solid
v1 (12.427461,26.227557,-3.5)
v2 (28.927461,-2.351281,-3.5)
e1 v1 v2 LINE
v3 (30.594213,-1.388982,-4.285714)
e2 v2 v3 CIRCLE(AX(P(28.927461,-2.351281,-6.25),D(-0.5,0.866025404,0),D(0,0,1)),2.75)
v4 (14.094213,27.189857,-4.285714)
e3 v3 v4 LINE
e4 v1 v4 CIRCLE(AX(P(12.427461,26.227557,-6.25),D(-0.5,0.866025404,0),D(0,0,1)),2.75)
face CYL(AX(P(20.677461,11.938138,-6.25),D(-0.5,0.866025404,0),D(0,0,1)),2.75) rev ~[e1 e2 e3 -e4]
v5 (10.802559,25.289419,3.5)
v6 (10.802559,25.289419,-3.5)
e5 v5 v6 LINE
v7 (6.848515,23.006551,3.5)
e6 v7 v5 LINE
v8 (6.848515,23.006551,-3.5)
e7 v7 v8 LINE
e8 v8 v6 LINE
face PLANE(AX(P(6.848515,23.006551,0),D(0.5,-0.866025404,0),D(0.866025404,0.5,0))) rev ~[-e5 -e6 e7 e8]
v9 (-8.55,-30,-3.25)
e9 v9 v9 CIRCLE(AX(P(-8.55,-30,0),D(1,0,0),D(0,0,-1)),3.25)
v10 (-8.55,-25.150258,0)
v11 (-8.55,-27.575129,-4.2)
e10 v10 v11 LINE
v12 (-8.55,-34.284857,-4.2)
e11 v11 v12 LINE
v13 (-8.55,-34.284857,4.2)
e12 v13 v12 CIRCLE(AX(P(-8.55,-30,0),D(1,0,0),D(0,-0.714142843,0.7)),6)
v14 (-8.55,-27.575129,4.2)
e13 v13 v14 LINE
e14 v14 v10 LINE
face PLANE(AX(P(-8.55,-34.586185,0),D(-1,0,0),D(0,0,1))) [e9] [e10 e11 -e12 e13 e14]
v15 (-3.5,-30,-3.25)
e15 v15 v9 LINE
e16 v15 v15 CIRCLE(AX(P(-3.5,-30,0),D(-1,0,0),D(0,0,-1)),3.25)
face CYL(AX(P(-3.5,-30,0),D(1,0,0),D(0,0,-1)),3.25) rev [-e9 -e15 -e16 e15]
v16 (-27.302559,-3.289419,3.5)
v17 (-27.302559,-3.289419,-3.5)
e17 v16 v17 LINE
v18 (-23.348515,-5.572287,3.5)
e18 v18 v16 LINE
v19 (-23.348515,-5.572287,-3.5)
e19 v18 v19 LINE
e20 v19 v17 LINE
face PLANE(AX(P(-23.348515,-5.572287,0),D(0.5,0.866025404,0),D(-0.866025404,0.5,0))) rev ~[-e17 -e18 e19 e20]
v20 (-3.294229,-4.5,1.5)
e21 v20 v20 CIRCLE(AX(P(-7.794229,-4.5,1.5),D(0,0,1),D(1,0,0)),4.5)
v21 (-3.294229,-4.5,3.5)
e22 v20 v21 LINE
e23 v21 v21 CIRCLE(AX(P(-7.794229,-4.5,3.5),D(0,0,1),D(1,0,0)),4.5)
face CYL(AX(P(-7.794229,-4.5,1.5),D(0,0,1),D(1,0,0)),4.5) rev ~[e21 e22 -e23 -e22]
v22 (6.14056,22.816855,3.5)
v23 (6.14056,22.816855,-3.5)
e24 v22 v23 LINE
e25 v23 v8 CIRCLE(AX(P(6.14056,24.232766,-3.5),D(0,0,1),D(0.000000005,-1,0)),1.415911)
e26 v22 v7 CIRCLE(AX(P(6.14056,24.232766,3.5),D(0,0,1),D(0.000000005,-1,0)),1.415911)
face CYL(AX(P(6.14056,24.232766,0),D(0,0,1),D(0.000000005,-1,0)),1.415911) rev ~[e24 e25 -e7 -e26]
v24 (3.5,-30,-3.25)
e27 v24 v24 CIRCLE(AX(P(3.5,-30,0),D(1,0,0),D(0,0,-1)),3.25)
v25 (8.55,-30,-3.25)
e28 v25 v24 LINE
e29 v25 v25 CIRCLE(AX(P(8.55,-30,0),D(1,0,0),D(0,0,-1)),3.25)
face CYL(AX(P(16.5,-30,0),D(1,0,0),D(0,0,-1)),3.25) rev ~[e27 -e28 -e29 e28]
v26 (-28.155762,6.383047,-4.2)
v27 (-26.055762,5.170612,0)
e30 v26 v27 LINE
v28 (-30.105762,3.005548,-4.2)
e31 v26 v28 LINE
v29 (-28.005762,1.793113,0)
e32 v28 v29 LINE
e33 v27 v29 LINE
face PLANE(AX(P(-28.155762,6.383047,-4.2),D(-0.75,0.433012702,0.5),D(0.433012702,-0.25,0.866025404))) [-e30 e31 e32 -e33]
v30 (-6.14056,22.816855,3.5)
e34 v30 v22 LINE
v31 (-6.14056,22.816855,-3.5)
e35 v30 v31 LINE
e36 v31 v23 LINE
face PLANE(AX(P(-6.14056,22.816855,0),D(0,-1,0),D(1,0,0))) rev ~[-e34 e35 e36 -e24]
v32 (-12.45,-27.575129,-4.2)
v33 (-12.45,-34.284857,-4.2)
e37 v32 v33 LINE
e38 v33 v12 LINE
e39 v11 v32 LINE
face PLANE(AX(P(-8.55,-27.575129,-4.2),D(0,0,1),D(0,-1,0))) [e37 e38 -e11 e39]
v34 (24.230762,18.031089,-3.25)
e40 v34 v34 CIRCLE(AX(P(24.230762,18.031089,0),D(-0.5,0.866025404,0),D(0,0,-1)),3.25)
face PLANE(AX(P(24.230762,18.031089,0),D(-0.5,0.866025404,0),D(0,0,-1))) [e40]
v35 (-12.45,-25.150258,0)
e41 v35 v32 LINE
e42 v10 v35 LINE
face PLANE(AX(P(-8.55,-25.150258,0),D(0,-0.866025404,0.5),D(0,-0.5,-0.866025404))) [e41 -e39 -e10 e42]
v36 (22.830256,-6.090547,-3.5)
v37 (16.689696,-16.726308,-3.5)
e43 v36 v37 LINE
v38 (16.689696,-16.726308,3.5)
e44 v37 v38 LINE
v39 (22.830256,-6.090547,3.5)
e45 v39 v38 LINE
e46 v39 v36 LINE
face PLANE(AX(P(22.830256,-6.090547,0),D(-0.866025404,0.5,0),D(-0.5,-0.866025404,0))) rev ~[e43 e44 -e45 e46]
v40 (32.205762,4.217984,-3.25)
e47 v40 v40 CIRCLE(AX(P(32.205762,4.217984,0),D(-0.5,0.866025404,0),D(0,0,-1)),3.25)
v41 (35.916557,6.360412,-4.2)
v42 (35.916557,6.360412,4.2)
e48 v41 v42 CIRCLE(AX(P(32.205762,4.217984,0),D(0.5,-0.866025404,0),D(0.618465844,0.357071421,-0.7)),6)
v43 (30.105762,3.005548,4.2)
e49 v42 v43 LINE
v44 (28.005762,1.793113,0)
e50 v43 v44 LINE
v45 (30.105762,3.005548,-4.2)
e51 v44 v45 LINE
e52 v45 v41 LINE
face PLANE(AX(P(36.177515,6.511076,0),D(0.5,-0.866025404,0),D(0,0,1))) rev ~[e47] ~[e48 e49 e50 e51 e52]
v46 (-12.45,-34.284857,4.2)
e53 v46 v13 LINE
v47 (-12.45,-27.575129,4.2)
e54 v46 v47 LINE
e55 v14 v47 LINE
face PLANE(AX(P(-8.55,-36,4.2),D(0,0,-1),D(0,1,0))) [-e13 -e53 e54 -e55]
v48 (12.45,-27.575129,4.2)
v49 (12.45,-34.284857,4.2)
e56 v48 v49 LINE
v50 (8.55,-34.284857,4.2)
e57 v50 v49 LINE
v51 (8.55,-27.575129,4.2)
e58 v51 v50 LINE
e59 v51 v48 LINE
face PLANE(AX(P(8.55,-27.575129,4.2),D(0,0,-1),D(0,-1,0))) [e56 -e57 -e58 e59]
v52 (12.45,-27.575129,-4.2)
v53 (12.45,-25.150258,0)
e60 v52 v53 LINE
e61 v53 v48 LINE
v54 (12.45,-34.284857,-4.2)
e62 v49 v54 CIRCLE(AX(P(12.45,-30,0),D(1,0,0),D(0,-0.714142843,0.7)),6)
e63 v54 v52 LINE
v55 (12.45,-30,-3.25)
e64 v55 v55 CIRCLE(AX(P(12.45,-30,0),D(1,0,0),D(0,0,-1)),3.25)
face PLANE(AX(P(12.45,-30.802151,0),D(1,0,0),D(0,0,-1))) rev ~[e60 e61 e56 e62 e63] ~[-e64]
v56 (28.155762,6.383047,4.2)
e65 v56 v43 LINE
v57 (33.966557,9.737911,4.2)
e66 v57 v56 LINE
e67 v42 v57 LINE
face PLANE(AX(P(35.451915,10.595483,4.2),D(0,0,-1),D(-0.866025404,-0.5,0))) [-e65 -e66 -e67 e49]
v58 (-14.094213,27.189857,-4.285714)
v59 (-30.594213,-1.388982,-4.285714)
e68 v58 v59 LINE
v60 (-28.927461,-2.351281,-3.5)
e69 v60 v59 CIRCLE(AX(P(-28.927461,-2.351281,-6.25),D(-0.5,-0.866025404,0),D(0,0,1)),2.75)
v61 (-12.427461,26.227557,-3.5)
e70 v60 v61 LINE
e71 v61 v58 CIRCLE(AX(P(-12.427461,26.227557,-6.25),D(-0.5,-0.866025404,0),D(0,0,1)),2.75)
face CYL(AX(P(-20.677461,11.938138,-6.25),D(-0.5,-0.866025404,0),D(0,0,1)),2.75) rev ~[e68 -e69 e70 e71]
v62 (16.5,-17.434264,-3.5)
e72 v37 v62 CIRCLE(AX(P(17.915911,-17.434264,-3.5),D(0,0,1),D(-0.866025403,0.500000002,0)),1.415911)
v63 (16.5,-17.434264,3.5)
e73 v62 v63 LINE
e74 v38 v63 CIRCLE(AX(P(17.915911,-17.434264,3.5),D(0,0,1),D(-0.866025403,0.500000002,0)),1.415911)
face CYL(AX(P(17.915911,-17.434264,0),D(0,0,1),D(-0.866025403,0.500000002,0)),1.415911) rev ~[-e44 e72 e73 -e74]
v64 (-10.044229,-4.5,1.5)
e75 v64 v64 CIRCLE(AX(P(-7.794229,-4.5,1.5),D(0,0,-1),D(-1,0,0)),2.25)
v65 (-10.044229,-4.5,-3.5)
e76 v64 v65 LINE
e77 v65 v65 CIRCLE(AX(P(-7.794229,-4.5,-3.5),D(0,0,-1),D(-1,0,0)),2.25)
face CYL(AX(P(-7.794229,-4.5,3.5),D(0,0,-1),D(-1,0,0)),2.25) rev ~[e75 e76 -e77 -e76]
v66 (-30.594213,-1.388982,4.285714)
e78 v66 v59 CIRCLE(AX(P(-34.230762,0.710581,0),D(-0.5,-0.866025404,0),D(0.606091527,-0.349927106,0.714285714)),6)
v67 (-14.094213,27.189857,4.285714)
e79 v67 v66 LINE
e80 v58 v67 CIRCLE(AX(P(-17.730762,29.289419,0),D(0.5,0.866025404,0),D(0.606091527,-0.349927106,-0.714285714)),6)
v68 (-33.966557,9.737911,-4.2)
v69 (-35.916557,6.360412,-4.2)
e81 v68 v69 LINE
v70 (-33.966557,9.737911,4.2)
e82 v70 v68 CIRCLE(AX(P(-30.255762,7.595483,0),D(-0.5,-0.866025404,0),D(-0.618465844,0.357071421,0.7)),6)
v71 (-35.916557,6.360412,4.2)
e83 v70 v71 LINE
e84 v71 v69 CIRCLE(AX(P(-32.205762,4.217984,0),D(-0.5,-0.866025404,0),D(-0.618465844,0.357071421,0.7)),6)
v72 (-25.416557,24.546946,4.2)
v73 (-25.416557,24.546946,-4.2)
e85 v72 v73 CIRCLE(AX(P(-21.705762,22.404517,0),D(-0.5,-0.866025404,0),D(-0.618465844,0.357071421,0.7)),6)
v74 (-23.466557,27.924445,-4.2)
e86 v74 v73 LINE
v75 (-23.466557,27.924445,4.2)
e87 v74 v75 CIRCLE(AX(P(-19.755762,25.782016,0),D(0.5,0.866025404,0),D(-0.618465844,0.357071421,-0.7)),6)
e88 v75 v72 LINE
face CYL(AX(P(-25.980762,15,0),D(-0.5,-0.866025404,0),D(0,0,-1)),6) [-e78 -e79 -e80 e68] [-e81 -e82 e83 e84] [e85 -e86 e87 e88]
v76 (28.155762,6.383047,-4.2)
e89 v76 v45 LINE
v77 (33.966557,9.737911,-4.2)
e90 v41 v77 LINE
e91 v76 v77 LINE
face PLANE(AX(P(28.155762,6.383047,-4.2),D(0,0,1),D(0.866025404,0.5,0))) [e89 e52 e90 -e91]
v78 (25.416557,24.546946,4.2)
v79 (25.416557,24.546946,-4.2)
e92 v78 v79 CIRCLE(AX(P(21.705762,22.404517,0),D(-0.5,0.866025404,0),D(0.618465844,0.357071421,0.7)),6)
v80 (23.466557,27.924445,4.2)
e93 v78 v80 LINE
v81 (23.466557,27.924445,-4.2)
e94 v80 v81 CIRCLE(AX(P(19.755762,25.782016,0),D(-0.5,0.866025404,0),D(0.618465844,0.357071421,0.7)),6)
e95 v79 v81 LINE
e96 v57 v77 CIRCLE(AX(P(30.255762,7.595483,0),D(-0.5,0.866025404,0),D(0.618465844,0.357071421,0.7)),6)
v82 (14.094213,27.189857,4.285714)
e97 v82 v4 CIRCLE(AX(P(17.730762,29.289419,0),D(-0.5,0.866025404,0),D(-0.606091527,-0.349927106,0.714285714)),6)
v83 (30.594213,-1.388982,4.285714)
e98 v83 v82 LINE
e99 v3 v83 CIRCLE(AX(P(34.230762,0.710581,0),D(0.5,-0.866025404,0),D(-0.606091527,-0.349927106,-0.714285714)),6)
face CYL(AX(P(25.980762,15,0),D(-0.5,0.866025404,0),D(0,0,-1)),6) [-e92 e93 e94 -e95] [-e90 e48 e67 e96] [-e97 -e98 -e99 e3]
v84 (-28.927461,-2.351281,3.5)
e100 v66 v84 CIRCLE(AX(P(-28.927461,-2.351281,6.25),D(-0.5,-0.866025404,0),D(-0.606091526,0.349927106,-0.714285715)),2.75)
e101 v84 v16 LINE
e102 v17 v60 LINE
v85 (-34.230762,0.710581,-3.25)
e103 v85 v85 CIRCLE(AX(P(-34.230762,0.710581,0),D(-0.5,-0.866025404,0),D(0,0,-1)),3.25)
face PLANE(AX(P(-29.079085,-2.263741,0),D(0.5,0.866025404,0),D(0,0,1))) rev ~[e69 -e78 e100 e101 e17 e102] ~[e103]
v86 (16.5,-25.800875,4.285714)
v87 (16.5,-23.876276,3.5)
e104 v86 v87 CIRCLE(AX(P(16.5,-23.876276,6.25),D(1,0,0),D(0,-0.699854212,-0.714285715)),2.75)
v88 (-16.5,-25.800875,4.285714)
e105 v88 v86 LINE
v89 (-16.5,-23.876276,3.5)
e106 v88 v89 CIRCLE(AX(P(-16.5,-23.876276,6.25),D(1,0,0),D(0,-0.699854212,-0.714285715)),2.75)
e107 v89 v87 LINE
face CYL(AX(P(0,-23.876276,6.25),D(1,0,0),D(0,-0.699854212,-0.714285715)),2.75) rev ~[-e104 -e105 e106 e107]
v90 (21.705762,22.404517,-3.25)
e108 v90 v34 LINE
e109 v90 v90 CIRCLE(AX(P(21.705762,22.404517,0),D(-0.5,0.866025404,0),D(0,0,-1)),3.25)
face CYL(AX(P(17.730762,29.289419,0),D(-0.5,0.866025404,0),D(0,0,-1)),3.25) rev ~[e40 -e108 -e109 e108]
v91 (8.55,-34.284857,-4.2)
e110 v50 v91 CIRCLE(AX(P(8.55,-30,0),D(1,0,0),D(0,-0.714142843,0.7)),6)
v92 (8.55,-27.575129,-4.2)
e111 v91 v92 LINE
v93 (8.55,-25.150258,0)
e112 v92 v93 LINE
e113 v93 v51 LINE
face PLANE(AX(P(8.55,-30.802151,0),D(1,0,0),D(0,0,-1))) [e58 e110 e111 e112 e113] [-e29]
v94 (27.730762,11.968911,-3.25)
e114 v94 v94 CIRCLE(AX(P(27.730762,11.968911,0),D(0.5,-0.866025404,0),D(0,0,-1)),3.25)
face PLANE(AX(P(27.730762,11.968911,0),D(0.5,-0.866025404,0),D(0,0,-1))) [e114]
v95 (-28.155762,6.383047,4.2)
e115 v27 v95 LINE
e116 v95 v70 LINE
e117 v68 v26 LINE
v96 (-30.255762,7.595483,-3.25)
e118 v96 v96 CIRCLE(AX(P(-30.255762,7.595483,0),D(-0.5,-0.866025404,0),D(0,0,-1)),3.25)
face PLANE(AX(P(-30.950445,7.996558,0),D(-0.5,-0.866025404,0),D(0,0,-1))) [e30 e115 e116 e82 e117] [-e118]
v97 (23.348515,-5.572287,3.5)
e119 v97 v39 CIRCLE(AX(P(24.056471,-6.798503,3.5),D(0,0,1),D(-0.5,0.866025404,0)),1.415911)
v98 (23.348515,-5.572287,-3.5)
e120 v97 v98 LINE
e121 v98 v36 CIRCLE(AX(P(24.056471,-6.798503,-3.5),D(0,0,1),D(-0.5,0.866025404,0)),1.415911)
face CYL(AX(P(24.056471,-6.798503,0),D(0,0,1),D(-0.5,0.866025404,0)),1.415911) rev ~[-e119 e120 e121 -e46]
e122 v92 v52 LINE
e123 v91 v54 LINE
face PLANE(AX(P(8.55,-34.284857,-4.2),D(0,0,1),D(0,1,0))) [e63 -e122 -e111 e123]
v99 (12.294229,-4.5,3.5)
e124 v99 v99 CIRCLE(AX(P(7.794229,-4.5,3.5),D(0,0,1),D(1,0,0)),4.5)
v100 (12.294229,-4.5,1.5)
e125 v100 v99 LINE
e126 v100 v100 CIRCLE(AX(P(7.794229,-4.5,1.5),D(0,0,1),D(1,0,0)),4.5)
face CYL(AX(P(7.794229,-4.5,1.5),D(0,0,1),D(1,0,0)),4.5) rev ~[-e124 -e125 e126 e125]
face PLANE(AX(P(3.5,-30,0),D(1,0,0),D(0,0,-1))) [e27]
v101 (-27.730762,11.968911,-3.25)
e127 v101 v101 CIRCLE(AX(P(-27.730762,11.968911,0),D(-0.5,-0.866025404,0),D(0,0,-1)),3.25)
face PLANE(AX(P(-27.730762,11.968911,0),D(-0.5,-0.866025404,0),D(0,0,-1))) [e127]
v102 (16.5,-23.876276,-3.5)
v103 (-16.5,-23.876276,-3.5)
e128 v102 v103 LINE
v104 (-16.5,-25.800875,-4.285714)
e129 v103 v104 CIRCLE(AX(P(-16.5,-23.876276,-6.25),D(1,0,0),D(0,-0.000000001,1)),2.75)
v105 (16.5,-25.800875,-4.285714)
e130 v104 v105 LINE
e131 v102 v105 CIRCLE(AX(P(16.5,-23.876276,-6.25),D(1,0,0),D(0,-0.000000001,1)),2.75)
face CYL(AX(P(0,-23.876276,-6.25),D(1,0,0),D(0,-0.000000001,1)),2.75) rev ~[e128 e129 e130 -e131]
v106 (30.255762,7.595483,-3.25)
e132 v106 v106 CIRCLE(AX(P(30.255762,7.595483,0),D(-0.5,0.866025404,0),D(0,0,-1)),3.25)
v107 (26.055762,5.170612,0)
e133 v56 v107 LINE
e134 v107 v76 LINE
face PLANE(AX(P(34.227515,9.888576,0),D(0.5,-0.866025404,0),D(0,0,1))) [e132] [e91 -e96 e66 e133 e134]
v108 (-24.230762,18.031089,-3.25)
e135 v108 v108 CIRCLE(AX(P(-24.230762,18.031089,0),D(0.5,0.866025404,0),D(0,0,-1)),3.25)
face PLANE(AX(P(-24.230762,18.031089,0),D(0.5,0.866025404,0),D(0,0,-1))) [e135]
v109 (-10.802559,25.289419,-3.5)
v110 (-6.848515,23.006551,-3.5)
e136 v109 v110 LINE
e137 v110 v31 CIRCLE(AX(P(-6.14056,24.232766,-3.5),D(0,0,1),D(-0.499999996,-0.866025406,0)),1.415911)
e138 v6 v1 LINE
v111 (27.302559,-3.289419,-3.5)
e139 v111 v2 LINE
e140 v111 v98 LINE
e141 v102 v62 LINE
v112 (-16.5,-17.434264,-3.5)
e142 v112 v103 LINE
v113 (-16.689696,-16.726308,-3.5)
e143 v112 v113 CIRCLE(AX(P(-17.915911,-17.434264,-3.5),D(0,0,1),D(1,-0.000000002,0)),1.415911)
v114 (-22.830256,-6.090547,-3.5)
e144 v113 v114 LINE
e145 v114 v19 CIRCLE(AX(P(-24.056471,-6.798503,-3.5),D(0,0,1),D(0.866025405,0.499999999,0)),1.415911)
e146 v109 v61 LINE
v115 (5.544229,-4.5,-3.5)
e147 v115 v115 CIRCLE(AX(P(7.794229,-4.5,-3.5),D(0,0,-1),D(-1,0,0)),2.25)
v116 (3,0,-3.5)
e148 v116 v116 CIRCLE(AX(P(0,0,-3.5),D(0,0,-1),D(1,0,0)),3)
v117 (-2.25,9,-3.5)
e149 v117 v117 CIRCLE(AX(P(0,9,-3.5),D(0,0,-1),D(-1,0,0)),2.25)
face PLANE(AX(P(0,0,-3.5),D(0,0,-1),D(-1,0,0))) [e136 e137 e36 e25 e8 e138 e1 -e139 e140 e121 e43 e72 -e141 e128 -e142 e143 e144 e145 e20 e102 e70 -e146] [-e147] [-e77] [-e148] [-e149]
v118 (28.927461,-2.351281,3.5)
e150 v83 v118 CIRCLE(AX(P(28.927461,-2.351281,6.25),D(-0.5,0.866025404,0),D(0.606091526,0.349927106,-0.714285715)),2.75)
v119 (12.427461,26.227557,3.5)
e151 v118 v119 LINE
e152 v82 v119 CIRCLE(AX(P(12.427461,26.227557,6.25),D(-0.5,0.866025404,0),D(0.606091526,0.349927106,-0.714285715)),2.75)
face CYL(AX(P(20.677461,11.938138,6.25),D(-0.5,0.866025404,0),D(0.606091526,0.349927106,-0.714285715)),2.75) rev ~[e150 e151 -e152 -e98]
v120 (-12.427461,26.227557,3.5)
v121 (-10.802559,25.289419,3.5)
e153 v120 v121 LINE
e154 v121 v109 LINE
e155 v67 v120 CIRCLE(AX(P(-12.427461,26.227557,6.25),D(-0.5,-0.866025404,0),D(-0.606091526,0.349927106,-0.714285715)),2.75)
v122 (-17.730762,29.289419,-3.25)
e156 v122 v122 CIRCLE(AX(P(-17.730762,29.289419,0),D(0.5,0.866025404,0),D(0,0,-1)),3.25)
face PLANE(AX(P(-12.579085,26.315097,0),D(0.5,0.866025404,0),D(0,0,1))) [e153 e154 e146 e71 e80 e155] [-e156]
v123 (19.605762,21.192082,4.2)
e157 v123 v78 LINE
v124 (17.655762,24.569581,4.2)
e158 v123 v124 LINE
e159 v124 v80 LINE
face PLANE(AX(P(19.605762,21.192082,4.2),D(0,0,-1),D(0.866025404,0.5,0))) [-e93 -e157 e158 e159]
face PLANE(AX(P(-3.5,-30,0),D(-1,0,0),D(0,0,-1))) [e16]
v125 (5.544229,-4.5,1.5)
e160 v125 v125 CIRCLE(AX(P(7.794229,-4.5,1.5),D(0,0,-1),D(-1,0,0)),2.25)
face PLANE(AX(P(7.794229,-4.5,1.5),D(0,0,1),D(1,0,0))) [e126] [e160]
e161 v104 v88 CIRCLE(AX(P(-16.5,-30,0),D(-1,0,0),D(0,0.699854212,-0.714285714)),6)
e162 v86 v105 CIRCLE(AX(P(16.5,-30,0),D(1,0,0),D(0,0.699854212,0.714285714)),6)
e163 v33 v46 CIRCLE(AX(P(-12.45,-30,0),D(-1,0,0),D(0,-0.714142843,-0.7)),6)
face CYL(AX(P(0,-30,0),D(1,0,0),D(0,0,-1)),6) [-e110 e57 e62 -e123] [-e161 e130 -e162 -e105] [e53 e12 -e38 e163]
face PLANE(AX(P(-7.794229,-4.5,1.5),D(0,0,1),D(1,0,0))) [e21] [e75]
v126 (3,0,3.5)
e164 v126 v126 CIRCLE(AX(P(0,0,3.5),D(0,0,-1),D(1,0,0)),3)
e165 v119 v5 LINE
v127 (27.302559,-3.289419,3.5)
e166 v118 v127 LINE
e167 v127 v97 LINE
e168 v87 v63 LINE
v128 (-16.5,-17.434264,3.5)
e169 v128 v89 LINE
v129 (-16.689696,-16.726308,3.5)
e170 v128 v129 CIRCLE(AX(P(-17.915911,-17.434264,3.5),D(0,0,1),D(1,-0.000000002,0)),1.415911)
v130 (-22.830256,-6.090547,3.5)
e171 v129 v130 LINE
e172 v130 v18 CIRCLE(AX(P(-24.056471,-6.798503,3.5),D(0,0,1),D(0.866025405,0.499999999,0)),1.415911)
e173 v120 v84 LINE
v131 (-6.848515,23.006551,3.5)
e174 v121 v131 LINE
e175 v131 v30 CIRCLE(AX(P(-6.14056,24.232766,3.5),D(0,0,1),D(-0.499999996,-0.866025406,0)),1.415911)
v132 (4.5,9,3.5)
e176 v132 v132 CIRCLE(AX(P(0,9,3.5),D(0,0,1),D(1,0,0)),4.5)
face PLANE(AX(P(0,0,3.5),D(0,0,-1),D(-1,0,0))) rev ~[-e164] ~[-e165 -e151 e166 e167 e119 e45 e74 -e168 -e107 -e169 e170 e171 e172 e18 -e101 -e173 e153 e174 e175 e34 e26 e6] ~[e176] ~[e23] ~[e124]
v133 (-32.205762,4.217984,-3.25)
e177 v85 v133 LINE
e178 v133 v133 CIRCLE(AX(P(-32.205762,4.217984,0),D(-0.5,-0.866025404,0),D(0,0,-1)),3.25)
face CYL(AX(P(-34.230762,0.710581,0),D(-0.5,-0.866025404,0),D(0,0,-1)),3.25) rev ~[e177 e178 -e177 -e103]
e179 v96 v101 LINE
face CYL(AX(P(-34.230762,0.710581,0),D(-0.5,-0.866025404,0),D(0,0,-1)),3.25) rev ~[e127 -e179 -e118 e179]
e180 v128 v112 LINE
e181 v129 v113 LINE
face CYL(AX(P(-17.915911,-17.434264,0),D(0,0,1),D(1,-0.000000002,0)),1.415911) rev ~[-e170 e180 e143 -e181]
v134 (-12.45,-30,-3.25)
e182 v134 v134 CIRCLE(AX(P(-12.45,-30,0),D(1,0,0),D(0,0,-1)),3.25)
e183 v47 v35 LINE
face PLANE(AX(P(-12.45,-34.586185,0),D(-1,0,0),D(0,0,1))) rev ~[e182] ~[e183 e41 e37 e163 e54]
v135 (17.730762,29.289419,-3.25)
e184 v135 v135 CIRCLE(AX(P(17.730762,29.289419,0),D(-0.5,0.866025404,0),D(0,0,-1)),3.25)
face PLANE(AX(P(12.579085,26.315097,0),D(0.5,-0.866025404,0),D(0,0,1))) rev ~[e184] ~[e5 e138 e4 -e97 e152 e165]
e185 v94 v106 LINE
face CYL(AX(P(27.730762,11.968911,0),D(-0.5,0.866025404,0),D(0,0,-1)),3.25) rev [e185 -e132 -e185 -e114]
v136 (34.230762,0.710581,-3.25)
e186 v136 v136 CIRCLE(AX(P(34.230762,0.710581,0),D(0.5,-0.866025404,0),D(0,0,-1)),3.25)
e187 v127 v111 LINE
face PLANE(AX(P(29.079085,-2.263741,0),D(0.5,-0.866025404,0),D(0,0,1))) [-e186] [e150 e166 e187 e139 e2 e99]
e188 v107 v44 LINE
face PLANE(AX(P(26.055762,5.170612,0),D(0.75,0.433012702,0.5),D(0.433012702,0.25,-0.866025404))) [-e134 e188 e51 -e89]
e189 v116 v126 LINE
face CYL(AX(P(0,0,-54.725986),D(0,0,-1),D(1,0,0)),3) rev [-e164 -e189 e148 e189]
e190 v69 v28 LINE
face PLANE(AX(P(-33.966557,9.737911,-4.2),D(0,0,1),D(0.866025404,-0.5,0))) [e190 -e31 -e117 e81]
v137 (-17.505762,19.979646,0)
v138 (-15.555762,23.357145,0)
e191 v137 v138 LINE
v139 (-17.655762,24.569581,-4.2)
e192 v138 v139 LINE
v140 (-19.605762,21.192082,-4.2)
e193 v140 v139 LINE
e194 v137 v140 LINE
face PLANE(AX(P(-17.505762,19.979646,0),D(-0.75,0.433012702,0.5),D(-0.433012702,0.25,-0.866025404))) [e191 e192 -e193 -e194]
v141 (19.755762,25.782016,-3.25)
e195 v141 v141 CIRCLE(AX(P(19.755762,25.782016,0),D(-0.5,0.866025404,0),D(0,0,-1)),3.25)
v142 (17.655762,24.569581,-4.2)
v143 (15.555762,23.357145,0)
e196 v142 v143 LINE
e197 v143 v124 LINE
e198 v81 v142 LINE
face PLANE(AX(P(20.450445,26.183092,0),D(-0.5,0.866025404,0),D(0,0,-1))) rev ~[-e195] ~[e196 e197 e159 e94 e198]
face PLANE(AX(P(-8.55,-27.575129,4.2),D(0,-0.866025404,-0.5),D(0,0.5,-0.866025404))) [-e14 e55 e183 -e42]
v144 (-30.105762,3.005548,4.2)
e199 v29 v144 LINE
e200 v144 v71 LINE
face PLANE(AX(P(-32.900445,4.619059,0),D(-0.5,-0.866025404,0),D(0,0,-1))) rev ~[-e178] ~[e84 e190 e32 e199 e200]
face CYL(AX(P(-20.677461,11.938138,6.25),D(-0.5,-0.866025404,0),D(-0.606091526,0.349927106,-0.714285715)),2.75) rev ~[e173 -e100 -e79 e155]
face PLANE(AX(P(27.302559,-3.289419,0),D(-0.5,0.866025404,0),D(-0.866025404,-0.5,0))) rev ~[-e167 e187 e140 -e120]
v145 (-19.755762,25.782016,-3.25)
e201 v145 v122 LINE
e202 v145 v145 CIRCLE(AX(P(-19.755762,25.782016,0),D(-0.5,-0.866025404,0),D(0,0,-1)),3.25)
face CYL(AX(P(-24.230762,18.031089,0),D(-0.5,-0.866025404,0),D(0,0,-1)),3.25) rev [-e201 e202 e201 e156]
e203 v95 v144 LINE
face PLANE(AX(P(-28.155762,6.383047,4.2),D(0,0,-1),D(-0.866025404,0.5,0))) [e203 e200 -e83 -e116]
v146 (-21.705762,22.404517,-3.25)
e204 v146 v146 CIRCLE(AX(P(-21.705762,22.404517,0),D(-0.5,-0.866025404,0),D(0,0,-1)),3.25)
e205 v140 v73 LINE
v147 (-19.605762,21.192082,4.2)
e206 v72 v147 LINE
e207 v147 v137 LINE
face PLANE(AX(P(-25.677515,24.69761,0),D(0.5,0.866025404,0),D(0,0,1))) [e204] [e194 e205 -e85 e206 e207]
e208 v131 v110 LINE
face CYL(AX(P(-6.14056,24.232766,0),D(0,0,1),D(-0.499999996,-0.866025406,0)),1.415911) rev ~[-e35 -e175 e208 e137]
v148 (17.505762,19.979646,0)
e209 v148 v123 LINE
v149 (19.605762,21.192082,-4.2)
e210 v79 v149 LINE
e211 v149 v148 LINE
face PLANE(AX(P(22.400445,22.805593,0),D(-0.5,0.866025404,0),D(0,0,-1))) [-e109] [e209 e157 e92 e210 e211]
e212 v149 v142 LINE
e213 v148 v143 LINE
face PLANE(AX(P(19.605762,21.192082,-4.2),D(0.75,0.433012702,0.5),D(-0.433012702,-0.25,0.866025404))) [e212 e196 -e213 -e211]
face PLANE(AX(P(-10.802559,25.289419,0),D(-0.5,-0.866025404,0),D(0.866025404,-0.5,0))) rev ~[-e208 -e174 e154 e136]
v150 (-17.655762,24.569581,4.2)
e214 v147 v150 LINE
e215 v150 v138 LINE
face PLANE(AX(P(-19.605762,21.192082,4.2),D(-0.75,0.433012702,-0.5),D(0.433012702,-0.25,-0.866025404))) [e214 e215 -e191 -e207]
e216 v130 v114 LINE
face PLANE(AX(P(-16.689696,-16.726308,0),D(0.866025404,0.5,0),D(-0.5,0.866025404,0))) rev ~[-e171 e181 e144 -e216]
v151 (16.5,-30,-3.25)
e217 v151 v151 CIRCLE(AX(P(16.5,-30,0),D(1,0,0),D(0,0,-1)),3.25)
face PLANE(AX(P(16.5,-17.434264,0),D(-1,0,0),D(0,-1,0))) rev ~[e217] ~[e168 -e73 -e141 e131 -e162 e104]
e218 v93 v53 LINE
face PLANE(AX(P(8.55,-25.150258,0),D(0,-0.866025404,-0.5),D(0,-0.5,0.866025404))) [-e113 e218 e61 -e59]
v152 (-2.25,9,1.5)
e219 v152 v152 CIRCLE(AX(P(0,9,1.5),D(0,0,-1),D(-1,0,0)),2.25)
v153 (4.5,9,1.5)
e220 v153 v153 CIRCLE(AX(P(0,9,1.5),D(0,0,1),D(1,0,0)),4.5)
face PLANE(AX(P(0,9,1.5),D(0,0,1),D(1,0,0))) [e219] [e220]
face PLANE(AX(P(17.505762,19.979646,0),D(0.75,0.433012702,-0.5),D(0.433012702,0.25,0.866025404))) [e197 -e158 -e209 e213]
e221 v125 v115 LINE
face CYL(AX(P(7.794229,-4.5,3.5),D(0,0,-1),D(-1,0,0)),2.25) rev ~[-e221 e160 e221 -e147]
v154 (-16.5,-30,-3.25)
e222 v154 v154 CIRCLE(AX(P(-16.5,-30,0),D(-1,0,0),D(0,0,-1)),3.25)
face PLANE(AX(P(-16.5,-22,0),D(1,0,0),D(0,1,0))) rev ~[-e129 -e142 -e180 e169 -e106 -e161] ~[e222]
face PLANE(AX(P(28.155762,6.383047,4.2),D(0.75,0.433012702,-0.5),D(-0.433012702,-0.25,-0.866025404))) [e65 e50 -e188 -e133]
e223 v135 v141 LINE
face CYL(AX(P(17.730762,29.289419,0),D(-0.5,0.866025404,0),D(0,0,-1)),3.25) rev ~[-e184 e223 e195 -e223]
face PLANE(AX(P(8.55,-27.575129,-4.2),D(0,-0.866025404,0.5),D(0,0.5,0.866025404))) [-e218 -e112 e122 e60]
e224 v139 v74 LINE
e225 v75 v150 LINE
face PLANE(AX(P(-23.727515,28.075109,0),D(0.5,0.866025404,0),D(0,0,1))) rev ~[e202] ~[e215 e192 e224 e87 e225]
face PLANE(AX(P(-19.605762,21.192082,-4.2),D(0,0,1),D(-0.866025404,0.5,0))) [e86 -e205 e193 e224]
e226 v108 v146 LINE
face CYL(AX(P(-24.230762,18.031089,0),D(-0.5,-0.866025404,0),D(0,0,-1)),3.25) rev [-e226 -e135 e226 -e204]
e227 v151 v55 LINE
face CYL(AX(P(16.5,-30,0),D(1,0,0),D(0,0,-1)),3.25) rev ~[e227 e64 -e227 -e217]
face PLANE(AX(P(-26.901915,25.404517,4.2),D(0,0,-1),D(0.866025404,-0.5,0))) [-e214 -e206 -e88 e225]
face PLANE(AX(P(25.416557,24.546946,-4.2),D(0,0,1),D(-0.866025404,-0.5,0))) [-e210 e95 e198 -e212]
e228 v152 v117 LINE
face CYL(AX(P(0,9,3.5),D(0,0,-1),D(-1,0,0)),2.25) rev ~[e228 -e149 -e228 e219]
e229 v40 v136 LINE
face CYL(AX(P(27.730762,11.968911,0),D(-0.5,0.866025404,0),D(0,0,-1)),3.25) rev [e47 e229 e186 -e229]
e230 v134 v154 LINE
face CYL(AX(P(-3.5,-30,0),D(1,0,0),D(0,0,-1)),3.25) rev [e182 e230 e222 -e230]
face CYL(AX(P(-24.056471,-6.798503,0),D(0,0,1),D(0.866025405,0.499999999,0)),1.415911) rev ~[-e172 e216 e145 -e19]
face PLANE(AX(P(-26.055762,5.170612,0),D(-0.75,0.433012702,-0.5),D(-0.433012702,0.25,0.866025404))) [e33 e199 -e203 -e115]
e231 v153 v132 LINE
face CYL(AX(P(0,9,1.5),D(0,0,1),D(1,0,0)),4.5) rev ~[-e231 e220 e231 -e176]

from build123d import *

# Parameters (mm, degrees)
SKETCH_2_R                   = 6
EXTRUDE_1_DEPTH              = 16.5
SKETCH_3_R                   = 3.25
CUT_EXTRUDE_1_DEPTH          = 13
CUT_EXTRUDE_START            = -13
SKETCH_4_R                   = 3.25
CUT_EXTRUDE_2_DEPTH          = 13
EXTRUDE_2_DEPTH              = 16.5
CUT_EXTRUDE_4_DEPTH          = 1.95
CUT_EXTRUDE_4_DEPTH_BACK     = 1.95
CUT_EXTRUDE_5_DEPTH          = 1.95
CUT_EXTRUDE_5_DEPTH_BACK     = 1.95
PATTERN_CIRCULAR_1_COUNT     = 3
EXTRUDE_3_DEPTH              = 3.5
CUT_EXTRUDE_3_DEPTH          = 54.725986169
CUT_EXTRUDE_3_DEPTH_BACK     = 54.725986169
SKETCH_9_R                   = 3
HOLE_WIZARD_M4_1_D           = 4.5
HOLE_WIZARD_M4_1_CBORE_D     = 9
HOLE_WIZARD_M4_1_CBORE_DEPTH = 2


with BuildPart() as part:
    # 스케치2 → 보스-돌출1 (new, symmetric)
    with BuildSketch(Plane(origin=(0, 0, 0), x_dir=(0, 0, -1), z_dir=(1, 0, 0))):
        with Locations((0, -30)):
            Circle(SKETCH_2_R)
    extrude(amount=EXTRUDE_1_DEPTH, both=True)

    # 스케치3 → 컷-돌출1 (cut)
    with BuildSketch(Plane(origin=(16.5, 0, 0), x_dir=(0, 0, -1), z_dir=(1, 0, 0))):
        with Locations((0, -30)):
            Circle(SKETCH_3_R)
    extrude(amount=-CUT_EXTRUDE_1_DEPTH, mode=Mode.SUBTRACT)

    # 스케치4 → 컷-돌출2 (cut)
    with BuildSketch(Plane.ZY.offset(16.5).offset(CUT_EXTRUDE_START)):
        with Locations(Location((0, -30, 0), (0, 0, 180))):
            Circle(SKETCH_4_R)
    extrude(amount=CUT_EXTRUDE_2_DEPTH, mode=Mode.SUBTRACT)

    # 스케치6 → 보스-돌출2 (add, symmetric)
    with BuildSketch(Plane(origin=(0, 0, 0), x_dir=(0, 0, -1), z_dir=(1, 0, 0))):
        with BuildLine():
            Line((-3.5, -23.876275643), (-3.5, -22))
            Line((-3.5, -22), (3.5, -22))
            Line((3.5, -22), (3.5, -23.876275643))
            ThreePointArc((3.5, -23.876275643), (3.703994726, -24.915677944), (4.285714286, -25.800874727))
            Line((4.285714286, -25.800874727), (-4.285714286, -25.800874727))
            ThreePointArc((-4.285714286, -25.800874727), (-3.703994726, -24.915677944), (-3.5, -23.876275643))
        make_face()
    extrude(amount=EXTRUDE_2_DEPTH, both=True)

    # 스케치12 → 컷-돌출4 (cut, two sides: drawn at the far end of the back side and taken through both)
    with BuildSketch(Plane.ZY.offset(10.5).offset(-CUT_EXTRUDE_4_DEPTH_BACK)):
        Polygon((-4.2, -36), (4.2, -36), (4.2, -32.424871131), (0, -34.849742261), (-4.2, -32.424871131), align=None)
        Polygon((-4.2, -27.575128869), (-4.2, -32.424871131), (0, -34.849742261), (4.2, -32.424871131), (4.2, -27.575128869), (0, -25.150257739), align=None)
    extrude(amount=CUT_EXTRUDE_4_DEPTH + CUT_EXTRUDE_4_DEPTH_BACK, mode=Mode.SUBTRACT)

    # 스케치13 → 컷-돌출5 (cut, two sides: drawn at the far end of the back side and taken through both)
    with BuildSketch(Plane(origin=(10.5, 0, 0), x_dir=(0, 0, -1), z_dir=(1, 0, 0)).offset(-CUT_EXTRUDE_5_DEPTH_BACK)):
        with BuildLine():
            Line((-4.2, -27.575128869), (-4.2, -34.284857057))
            ThreePointArc((-4.2, -34.284857057), (0, -36), (4.2, -34.284857057))
            Line((4.2, -34.284857057), (4.2, -27.575128869))
            Line((4.2, -27.575128869), (0, -25.150257739))
            Line((0, -25.150257739), (-4.2, -27.575128869))
        make_face()
    extrude(amount=CUT_EXTRUDE_5_DEPTH + CUT_EXTRUDE_5_DEPTH_BACK, mode=Mode.SUBTRACT)


with BuildPart() as pattern_circular_1_1:
    # 원형 패턴1: pattern copy
    add(part.part.rotate(Axis((0, 0, 0), (0, 0, 1)), 1 * 360 / PATTERN_CIRCULAR_1_COUNT))


with BuildPart() as pattern_circular_1_2:
    # 원형 패턴1: pattern copy
    add(part.part.rotate(Axis((0, 0, 0), (0, 0, 1)), 2 * 360 / PATTERN_CIRCULAR_1_COUNT))


with BuildPart() as part_1:
    add(part.part)

    add(pattern_circular_1_1.part)  # 보스-돌출3 merges 원형 패턴1_1

    add(pattern_circular_1_2.part)  # 보스-돌출3 merges 원형 패턴1_2
    # 스케치8 → 보스-돌출3 (add, symmetric)
    with BuildSketch(Plane.XY):
        with BuildLine():
            Line((16.5, -22), (-16.5, -22))
            Line((-16.5, -22), (-16.5, -17.434263876))
            ThreePointArc((-16.5, -17.434263876), (-16.548246013, -17.067799022), (-16.689696167, -16.726308143))
            Line((-16.689696167, -16.726308143), (-22.830255847, -6.090546791))
            ThreePointArc((-22.830255847, -6.090546791), (-23.055270547, -5.797301924), (-23.348515413, -5.572287224))
            Line((-23.348515413, -5.572287224), (-27.302558883, -3.289419162))
            Line((-27.302558883, -3.289419162), (-10.802558883, 25.289419162))
            Line((-10.802558883, 25.289419162), (-6.848515413, 23.0065511))
            ThreePointArc((-6.848515413, 23.0065511), (-6.507024533, 22.865100947), (-6.14055968, 22.816854933))
            Line((-6.14055968, 22.816854933), (6.14055968, 22.816854933))
            ThreePointArc((6.14055968, 22.816854933), (6.507024533, 22.865100947), (6.848515413, 23.0065511))
            Line((6.848515413, 23.0065511), (10.802558883, 25.289419162))
            Line((10.802558883, 25.289419162), (27.302558883, -3.289419162))
            Line((27.302558883, -3.289419162), (23.348515413, -5.572287224))
            ThreePointArc((23.348515413, -5.572287224), (23.055270547, -5.797301924), (22.830255847, -6.090546791))
            Line((22.830255847, -6.090546791), (16.689696167, -16.726308143))
            ThreePointArc((16.689696167, -16.726308143), (16.548246013, -17.067799022), (16.5, -17.434263876))
            Line((16.5, -17.434263876), (16.5, -22))
        make_face()
    extrude(amount=EXTRUDE_3_DEPTH, both=True)

    # 스케치9 → 컷-돌출3 (cut, two sides: drawn at the far end of the back side and taken through both)
    with BuildSketch(Plane.XY.offset(-CUT_EXTRUDE_3_DEPTH_BACK)):
        Circle(SKETCH_9_R)
    extrude(amount=CUT_EXTRUDE_3_DEPTH + CUT_EXTRUDE_3_DEPTH_BACK, mode=Mode.SUBTRACT)

    # M4 남비 머리 나사용 카운터보어1 (through all)
    with Locations(Plane.XY.offset(3.5)):
        with Locations((0, 9), (7.794228634, -4.5), (-7.794228634, -4.5)):
            CounterBoreHole(HOLE_WIZARD_M4_1_D / 2, HOLE_WIZARD_M4_1_CBORE_D / 2, HOLE_WIZARD_M4_1_CBORE_DEPTH)


solid = part_1.part
